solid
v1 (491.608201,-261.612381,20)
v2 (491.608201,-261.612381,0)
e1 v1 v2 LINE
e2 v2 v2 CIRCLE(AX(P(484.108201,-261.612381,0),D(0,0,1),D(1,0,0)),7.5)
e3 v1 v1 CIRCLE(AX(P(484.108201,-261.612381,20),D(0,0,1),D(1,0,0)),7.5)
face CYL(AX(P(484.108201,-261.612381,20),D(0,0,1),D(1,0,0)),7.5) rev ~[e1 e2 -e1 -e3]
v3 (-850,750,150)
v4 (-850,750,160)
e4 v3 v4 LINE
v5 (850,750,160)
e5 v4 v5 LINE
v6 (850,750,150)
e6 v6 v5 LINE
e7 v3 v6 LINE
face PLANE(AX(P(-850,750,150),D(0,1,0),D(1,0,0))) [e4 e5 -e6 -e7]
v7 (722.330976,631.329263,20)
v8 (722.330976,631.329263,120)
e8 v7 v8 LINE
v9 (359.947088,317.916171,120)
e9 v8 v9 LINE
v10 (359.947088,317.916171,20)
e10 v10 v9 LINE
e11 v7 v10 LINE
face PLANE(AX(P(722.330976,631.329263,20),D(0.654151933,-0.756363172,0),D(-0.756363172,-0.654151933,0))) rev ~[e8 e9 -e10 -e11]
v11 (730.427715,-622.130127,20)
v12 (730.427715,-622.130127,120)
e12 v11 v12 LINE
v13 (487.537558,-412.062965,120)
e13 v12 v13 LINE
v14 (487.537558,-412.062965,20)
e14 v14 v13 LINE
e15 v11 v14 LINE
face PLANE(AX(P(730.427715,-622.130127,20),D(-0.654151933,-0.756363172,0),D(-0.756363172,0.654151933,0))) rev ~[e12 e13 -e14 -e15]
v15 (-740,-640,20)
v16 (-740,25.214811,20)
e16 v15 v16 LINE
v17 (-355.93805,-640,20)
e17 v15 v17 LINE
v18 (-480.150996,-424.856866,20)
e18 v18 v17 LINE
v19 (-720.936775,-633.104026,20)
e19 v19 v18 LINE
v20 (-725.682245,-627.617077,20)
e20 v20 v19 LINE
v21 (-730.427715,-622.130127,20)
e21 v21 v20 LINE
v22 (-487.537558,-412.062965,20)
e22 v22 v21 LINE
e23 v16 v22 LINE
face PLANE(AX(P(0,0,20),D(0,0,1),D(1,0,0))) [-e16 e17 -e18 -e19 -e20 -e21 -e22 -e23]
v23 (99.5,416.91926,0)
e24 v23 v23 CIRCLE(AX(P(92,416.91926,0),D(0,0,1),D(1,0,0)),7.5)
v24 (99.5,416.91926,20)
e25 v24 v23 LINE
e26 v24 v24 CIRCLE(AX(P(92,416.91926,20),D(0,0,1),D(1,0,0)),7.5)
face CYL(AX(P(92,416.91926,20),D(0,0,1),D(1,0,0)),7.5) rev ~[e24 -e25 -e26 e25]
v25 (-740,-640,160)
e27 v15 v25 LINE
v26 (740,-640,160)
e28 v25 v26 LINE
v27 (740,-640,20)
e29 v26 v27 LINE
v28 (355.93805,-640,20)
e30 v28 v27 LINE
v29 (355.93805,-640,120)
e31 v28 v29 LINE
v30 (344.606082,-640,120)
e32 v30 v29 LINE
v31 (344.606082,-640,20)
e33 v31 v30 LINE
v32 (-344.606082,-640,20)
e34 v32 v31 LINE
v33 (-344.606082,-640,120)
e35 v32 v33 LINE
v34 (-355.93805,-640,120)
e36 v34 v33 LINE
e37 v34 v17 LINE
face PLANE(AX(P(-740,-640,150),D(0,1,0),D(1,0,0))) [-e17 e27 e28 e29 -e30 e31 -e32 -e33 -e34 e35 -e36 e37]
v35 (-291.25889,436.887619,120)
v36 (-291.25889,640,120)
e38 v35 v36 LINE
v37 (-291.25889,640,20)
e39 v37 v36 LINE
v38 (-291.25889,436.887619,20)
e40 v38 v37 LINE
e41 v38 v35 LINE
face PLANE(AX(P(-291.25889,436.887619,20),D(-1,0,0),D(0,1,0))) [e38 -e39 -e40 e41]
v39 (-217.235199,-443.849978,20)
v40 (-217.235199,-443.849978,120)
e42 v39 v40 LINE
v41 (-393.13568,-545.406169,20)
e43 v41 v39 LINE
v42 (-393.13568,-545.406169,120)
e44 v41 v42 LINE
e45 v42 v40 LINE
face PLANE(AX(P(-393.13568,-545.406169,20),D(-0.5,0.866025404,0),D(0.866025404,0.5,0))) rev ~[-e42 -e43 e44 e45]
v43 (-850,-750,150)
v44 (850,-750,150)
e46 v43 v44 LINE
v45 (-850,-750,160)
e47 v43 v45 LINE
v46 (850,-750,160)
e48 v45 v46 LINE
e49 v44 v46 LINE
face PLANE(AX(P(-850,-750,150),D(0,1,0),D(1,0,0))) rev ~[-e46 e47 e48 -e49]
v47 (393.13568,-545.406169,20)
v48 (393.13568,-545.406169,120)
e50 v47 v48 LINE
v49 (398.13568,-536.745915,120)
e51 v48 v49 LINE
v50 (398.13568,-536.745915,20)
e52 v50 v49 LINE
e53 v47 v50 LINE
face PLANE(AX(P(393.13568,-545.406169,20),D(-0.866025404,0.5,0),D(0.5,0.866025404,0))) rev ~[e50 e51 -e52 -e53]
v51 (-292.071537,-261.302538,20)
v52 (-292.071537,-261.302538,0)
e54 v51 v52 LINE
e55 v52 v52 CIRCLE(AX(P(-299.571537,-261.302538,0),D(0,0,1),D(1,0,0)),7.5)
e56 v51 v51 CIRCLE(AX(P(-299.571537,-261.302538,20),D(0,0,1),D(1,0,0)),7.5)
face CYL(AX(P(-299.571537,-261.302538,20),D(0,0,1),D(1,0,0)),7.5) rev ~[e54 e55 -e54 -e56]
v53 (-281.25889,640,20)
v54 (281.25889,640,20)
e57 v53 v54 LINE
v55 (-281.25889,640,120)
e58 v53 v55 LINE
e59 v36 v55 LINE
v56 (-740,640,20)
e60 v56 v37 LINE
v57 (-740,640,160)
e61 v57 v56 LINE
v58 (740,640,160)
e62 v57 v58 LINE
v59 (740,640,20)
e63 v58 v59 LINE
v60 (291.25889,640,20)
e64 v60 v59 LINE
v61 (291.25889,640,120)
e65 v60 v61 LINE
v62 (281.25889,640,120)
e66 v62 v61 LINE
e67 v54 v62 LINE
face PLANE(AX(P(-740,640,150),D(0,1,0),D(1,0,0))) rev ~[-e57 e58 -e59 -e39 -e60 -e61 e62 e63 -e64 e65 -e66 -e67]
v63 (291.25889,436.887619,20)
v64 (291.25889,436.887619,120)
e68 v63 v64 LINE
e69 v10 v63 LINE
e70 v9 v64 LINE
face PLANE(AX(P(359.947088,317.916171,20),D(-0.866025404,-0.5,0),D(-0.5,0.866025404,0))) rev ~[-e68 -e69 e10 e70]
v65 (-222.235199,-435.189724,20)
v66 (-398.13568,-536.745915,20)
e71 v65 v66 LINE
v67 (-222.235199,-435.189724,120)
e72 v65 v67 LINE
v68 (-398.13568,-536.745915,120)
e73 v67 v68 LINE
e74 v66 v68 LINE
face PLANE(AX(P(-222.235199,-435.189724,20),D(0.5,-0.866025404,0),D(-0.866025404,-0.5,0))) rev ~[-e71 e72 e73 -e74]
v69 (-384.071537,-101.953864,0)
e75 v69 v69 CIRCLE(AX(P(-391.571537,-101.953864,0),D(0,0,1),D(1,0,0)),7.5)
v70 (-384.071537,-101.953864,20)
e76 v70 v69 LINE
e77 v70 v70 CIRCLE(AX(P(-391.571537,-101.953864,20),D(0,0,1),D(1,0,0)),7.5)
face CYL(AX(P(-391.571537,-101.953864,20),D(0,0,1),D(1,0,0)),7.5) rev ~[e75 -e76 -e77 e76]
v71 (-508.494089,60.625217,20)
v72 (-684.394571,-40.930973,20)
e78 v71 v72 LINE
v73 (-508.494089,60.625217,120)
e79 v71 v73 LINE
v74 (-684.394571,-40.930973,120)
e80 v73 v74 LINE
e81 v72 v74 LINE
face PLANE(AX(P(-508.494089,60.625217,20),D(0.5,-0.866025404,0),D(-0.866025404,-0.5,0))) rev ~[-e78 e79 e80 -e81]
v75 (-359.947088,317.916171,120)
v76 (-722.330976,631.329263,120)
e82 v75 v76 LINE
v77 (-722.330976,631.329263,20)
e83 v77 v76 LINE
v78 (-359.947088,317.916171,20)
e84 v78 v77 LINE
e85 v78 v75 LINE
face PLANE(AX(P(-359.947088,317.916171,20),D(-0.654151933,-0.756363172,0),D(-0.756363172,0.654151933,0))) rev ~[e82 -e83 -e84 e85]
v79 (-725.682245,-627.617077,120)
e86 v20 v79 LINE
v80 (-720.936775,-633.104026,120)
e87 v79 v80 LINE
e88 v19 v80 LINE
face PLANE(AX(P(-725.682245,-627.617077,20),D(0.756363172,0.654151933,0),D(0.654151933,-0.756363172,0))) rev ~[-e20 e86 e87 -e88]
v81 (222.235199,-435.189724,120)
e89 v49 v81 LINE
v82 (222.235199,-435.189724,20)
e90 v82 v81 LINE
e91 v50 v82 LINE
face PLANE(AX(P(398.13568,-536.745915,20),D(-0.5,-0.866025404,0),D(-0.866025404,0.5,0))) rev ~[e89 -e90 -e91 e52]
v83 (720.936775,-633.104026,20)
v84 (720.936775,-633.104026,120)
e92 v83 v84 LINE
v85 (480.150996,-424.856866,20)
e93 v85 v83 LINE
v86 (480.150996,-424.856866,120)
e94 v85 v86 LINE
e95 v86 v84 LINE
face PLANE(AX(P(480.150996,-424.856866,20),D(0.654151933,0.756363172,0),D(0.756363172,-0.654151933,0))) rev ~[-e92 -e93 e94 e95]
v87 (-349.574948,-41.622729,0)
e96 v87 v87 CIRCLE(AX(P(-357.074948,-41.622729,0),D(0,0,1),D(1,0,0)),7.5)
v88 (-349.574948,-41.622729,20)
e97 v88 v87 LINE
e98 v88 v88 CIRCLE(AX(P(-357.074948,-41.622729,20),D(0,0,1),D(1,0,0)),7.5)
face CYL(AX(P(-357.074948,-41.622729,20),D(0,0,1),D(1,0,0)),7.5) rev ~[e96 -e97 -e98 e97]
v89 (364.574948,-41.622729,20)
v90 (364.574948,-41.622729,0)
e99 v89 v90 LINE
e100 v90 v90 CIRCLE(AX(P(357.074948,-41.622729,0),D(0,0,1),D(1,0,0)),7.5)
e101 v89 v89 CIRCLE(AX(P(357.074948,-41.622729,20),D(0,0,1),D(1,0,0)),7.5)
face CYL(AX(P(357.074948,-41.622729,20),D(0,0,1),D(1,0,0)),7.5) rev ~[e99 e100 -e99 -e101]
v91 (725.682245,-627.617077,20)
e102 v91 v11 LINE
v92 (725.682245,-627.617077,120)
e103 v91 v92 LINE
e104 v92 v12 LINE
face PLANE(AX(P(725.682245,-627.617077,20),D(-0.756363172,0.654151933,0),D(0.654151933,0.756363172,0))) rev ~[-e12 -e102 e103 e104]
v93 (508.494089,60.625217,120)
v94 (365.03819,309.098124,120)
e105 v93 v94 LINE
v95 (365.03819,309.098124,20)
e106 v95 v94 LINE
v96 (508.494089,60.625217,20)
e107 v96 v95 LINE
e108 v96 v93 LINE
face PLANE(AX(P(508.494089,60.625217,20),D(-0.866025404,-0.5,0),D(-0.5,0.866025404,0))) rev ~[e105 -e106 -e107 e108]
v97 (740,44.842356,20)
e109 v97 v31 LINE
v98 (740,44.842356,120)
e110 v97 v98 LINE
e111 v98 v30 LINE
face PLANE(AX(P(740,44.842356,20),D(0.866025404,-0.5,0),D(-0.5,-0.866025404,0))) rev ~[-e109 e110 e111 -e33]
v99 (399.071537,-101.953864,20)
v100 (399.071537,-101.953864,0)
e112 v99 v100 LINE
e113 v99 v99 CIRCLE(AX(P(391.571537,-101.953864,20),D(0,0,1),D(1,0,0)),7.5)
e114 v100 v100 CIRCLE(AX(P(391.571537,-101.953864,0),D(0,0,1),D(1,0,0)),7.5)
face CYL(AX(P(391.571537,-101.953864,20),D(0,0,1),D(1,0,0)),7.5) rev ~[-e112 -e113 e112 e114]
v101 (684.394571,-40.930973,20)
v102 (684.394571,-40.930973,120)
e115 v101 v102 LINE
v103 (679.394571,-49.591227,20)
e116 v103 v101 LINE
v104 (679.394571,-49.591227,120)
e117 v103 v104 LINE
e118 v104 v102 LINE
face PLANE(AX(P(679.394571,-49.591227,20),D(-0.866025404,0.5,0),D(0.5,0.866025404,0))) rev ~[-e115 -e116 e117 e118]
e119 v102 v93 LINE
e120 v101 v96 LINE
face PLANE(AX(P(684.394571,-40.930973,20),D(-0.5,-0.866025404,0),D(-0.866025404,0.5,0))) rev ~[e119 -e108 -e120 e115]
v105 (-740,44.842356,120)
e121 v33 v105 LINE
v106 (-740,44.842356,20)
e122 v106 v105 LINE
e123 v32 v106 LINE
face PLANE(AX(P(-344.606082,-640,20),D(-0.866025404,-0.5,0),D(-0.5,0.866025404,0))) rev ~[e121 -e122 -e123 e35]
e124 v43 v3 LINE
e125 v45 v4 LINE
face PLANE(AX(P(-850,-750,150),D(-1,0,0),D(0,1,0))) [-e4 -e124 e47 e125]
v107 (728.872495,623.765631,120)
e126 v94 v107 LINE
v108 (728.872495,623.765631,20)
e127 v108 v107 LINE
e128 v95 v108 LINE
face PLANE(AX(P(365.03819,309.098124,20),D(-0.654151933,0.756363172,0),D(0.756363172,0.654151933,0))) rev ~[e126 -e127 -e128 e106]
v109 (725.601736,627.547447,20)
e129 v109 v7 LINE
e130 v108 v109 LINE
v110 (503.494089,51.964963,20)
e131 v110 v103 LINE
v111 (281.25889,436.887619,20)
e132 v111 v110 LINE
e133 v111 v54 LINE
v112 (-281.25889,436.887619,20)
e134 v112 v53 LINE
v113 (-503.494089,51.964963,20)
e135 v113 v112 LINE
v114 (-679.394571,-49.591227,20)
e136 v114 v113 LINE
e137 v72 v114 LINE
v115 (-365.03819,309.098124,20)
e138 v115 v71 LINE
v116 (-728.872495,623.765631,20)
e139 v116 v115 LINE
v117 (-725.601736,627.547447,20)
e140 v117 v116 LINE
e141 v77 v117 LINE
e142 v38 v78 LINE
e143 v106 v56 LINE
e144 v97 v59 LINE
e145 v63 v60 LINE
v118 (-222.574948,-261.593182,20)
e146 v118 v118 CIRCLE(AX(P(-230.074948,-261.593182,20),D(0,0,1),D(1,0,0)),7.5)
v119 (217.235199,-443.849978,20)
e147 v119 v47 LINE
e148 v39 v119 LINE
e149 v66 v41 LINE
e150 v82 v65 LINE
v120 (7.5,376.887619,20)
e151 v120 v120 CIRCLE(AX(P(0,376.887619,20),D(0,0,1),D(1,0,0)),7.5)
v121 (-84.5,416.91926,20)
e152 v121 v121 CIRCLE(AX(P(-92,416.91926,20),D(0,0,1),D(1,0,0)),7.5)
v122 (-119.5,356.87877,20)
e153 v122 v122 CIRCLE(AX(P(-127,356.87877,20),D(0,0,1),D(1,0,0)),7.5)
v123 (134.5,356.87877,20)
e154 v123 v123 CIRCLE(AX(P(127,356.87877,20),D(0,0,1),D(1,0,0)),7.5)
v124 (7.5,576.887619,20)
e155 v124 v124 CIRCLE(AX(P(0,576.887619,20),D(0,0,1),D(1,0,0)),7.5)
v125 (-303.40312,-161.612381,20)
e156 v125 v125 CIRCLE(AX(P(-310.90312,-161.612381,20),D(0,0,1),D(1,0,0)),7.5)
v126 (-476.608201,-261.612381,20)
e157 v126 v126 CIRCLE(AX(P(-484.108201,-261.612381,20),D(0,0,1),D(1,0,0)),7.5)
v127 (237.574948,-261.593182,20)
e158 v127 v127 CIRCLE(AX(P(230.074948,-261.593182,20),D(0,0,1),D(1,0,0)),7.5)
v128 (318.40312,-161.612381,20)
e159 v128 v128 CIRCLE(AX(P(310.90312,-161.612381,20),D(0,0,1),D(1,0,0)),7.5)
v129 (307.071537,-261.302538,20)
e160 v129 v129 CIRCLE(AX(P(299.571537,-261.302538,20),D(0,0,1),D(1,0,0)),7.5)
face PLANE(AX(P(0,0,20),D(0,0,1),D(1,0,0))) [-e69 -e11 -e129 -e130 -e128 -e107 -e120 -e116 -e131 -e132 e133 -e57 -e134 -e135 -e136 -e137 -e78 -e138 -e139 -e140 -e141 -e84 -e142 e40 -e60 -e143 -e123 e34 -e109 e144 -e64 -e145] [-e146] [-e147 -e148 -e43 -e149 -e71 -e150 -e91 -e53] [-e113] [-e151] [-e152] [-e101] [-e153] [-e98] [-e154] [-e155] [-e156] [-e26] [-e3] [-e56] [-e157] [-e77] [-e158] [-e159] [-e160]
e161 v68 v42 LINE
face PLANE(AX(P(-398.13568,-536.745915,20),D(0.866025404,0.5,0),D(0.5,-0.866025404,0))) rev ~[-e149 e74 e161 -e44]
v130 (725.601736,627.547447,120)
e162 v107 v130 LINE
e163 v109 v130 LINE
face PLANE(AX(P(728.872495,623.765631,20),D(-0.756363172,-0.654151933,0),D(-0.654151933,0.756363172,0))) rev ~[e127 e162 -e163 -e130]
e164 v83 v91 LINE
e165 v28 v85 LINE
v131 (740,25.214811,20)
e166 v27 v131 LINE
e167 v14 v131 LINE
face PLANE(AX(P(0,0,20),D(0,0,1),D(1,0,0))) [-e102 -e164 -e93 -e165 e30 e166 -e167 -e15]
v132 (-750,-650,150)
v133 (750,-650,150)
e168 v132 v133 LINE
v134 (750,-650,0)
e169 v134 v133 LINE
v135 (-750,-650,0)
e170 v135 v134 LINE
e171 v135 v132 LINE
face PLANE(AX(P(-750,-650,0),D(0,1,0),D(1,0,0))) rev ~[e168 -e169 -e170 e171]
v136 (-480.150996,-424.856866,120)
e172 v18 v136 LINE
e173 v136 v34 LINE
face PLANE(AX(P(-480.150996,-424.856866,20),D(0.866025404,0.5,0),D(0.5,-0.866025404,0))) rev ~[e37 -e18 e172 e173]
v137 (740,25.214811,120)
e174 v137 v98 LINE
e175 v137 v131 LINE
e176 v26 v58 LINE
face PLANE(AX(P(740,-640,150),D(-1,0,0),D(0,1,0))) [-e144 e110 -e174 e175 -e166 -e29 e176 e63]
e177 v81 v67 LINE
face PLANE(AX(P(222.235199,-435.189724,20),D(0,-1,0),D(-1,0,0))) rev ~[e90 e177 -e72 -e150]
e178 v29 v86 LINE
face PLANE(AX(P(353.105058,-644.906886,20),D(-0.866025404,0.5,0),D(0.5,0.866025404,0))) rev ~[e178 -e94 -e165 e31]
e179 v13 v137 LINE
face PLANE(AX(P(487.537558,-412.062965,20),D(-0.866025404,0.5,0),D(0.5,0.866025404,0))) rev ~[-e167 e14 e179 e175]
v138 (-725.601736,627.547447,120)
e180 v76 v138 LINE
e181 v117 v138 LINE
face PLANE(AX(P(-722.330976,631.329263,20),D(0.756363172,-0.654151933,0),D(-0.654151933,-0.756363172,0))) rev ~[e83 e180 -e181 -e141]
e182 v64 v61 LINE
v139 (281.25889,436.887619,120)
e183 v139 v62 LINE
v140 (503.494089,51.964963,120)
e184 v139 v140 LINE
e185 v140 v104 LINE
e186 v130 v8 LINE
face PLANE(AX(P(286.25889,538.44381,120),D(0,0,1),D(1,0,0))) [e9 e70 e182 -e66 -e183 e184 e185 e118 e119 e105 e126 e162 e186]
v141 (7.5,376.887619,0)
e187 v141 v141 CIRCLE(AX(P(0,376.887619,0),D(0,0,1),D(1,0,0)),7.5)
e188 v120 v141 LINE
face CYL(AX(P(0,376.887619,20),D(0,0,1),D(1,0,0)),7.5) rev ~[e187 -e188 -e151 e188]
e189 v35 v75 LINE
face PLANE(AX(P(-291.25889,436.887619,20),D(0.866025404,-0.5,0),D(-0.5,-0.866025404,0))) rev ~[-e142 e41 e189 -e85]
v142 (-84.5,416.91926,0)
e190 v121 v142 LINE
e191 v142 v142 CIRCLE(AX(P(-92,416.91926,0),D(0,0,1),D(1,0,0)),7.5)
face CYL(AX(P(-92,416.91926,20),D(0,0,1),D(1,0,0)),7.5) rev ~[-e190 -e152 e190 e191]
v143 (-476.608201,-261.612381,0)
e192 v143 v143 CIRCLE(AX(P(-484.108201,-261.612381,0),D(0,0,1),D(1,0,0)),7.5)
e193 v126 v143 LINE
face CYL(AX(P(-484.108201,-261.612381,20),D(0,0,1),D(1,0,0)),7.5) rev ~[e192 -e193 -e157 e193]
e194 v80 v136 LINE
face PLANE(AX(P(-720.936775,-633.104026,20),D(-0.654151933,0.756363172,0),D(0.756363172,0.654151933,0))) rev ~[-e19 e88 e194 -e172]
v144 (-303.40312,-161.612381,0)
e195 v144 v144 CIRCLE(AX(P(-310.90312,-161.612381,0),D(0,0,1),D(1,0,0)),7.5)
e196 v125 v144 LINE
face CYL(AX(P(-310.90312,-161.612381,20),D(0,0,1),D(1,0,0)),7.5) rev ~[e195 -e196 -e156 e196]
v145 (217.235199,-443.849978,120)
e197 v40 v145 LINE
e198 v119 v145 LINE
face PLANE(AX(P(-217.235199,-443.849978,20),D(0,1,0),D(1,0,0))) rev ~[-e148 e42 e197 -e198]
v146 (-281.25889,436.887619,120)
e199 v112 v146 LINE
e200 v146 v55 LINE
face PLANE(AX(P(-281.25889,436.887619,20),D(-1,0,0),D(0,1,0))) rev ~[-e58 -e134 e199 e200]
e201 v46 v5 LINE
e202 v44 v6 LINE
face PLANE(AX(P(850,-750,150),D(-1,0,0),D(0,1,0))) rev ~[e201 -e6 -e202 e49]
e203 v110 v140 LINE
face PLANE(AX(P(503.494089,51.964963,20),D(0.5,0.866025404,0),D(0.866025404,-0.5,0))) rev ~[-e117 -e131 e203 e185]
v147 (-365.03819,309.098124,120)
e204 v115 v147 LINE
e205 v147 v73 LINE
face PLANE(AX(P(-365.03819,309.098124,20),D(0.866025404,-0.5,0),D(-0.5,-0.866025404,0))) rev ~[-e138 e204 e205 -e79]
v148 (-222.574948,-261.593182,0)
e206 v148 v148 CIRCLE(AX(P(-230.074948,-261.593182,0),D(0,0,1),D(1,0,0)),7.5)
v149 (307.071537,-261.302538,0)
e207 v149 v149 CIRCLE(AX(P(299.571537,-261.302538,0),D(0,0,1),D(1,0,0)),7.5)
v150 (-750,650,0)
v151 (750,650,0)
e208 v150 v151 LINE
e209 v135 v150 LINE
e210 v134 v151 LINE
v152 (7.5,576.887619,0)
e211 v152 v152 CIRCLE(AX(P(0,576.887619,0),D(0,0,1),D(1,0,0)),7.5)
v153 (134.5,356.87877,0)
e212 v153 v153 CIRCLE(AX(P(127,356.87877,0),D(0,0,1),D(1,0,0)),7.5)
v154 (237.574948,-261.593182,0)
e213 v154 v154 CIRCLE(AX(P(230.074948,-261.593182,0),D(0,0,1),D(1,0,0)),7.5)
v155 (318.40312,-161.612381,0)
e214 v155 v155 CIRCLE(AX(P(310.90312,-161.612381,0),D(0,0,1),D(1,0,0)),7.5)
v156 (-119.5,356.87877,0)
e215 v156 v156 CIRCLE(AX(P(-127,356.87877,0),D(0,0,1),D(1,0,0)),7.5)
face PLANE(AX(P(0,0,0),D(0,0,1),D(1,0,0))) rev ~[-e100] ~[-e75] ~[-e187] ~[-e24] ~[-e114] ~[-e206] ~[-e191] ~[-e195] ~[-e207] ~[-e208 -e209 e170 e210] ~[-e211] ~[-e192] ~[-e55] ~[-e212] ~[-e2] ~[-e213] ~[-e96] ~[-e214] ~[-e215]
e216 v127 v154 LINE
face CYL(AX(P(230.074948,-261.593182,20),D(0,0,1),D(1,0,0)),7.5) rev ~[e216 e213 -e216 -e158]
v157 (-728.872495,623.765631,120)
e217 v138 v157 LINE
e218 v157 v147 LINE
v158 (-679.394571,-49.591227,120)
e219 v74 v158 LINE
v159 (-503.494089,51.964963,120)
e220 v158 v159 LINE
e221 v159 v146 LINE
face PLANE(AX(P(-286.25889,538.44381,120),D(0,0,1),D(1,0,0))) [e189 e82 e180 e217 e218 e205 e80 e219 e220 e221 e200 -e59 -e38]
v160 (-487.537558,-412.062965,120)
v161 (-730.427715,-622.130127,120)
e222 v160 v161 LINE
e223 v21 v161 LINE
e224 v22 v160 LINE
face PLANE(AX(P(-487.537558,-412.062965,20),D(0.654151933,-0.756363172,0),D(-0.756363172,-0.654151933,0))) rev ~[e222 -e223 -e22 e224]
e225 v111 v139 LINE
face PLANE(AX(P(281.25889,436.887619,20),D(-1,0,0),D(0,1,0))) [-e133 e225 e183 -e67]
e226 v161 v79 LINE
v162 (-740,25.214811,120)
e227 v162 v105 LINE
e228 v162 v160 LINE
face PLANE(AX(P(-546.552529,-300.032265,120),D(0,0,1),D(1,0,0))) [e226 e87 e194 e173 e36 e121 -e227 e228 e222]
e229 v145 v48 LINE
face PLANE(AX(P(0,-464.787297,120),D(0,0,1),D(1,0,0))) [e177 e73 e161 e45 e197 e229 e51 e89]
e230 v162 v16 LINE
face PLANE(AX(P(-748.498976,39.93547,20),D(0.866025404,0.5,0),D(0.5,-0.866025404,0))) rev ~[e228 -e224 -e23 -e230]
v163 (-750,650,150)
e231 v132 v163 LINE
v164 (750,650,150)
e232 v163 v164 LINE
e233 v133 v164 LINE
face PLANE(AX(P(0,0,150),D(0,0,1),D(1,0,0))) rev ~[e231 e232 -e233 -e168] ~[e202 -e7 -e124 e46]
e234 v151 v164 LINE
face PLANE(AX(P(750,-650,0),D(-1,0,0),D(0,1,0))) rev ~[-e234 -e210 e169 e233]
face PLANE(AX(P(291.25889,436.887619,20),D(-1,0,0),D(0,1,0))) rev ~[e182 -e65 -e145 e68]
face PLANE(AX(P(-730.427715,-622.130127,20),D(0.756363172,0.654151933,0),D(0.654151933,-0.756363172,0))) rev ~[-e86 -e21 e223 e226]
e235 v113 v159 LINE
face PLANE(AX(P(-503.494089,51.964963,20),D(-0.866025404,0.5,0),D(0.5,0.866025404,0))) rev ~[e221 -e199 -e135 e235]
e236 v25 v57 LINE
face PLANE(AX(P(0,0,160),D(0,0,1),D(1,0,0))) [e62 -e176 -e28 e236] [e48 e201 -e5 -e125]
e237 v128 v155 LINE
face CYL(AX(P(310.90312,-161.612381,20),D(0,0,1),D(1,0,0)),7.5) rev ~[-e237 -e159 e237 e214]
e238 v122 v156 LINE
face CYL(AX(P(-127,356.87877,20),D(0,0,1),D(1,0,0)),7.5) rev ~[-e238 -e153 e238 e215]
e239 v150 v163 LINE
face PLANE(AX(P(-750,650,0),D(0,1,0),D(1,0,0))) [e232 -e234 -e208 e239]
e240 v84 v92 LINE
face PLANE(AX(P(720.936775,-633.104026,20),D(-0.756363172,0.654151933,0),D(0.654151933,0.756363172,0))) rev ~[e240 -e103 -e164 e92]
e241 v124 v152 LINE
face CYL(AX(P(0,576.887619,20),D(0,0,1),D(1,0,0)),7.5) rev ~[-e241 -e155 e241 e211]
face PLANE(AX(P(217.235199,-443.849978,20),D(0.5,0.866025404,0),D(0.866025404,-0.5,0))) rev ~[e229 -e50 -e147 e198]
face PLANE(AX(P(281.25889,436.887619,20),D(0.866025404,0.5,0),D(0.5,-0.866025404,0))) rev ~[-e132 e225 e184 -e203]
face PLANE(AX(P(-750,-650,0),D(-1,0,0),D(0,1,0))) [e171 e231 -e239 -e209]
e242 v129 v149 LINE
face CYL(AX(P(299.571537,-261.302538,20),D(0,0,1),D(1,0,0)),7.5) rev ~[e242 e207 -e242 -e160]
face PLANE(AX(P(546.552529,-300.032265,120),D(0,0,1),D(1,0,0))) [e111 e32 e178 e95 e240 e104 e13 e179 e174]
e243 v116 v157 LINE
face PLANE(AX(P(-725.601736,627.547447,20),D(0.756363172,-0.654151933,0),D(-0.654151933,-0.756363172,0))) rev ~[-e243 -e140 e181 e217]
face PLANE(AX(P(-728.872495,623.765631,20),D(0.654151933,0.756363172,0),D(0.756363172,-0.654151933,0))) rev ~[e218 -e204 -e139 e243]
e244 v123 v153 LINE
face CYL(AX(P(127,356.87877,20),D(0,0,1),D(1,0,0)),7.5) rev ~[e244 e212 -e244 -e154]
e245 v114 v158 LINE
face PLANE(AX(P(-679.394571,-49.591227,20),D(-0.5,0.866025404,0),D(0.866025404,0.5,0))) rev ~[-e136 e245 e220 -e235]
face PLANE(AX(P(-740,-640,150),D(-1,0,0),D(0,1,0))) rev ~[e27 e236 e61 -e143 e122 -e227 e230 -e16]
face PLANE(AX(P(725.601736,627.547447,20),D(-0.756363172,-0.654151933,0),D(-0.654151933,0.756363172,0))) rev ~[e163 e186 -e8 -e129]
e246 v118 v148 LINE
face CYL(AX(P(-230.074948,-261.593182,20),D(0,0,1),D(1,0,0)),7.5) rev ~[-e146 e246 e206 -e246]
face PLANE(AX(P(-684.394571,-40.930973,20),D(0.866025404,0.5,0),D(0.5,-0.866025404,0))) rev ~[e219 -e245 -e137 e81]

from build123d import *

# Parameters (mm, degrees)
F0_W     = 1500
F0_H     = 1300
F1_DEPTH = 150
F2_W     = 1480
F2_H     = 1280
F3_DEPTH = 130
F4_W     = 1700
F4_H     = 1500
F4_W_2   = 1480
F4_H_2   = 1280
F5_DEPTH = 10
F6_R     = 7.5
F7_DEPTH = 20.001
F8_W     = 10
F8_H     = 203.1123805046
F9_DEPTH = 100


with BuildPart() as f1:
    # F0 (on Top) → F1 (new body)
    with BuildSketch(Plane.XY):
        Rectangle(F0_W, F0_H)
    extrude(amount=F1_DEPTH)

    # F2 (on face) → F3 (cut)
    with BuildSketch(Plane.XY.offset(150)):
        Rectangle(F2_W, F2_H)
    extrude(amount=-F3_DEPTH, mode=Mode.SUBTRACT)

    # F4 (on face) → F5 (join)
    with BuildSketch(Plane.XY.offset(150)):
        Rectangle(F4_W, F4_H)
        Rectangle(F4_W_2, F4_H_2, mode=Mode.SUBTRACT)
    extrude(amount=F5_DEPTH)

    # F6 (on face) → F7 (cut, through all)
    with BuildSketch(Plane.XY.offset(20)):
        with Locations((0, 576.8876194954)):
            Circle(F6_R)
        with Locations((-484.1082007155, -261.6123805046)):
            Circle(F6_R)
        with Locations((484.1082007155, -261.6123805046)):
            Circle(F6_R)
        with Locations((-92, 416.9192598449)):
            Circle(F6_R)
        with Locations((92, 416.9192598449)):
            Circle(F6_R)
        with Locations((-127, 356.8787698224)):
            Circle(F6_R)
        with Locations((127, 356.8787698224)):
            Circle(F6_R)
        with Locations((-230.0749478413, -261.5931819487)):
            Circle(F6_R)
        with Locations((-357.0749478413, -41.6227293875)):
            Circle(F6_R)
        with Locations((-299.5715374564, -261.3025378275)):
            Circle(F6_R)
        with Locations((-391.5715374564, -101.9538635312)):
            Circle(F6_R)
        with Locations((391.5715374564, -101.9538635312)):
            Circle(F6_R)
        with Locations((299.5715374564, -261.3025378275)):
            Circle(F6_R)
        with Locations((230.0749478413, -261.5931819487)):
            Circle(F6_R)
        with Locations((357.0749478413, -41.6227293875)):
            Circle(F6_R)
        with Locations((0, 376.8876194954)):
            Circle(F6_R)
        with Locations((310.9031199586, -161.6123805046)):
            Circle(F6_R)
        with Locations((-310.9031199586, -161.6123805046)):
            Circle(F6_R)
    extrude(amount=-F7_DEPTH, mode=Mode.SUBTRACT)

    # F8 (on face) → F9 (join)
    with BuildSketch(Plane.XY.offset(20)):
        with Locations((-286.2588901058, 538.4438097477)):
            Rectangle(F8_W, F8_H)
        Polygon((-503.4940892386, 51.9649633672), (-281.2588901058, 436.8876194954), (-291.2588901058, 436.8876194954), (-359.9470881013, 317.9161706869), (-365.0381898631, 309.0981237688), (-508.4940892386, 60.6252174051), (-684.3945705787, -40.9309728472), (-679.3945705787, -49.5912268851), align=None)
        Polygon((-365.0381898631, 309.0981237688), (-359.9470881013, 317.9161706869), (-722.3309758605, 631.329262803), (-725.6017355252, 627.5474469407), (-728.8724951898, 623.7656310784), align=None)
        with Locations((286.2588901058, 538.4438097477)):
            Rectangle(F8_W, F8_H)
        Polygon((359.9470881013, 317.9161706869), (291.2588901058, 436.8876194954), (281.2588901058, 436.8876194954), (503.4940892386, 51.9649633672), (508.4940892386, 60.6252174051), (365.0381898631, 309.0981237688), align=None)
        Polygon((722.3309758605, 631.329262803), (359.9470881013, 317.9161706869), (365.0381898631, 309.0981237688), (728.8724951898, 623.7656310784), (725.6017355252, 627.5474469407), align=None)
        Polygon((508.4940892386, 60.6252174051), (503.4940892386, 51.9649633672), (679.3945705787, -49.5912268851), (684.3945705787, -40.9309728472), align=None)
        Polygon((217.2351991328, -443.8499784143), (393.1356804729, -545.4061686666), (398.1356804729, -536.7459146288), (222.2351991328, -435.1897243764), (0, -435.1897243764), (-222.2351991328, -435.1897243764), (-398.1356804729, -536.7459146288), (-393.1356804729, -545.4061686666), (-217.2351991328, -443.8499784143), (0, -443.8499784143), align=None)
        Polygon((-344.6060815022, -640), (-740, 44.842355842), (-748.4989762306, 39.9354696274), (-487.5375583846, -412.0629648972), (-480.1509961227, -424.856866028), (-353.1050577328, -644.9068862146), align=None)
        Polygon((-480.1509961227, -424.856866028), (-487.5375583846, -412.0629648972), (-730.4277149046, -622.1301272929), (-725.6822450561, -627.6170768052), (-720.9367752075, -633.1040263176), align=None)
        Polygon((748.4989762306, 39.9354696274), (740, 44.842355842), (344.6060815022, -640), (353.1050577328, -644.9068862146), (480.1509961227, -424.856866028), (487.5375583846, -412.0629648972), align=None)
        Polygon((730.4277149046, -622.1301272929), (487.5375583846, -412.0629648972), (480.1509961227, -424.856866028), (720.9367752075, -633.1040263176), (725.6822450561, -627.6170768052), align=None)
    extrude(amount=F9_DEPTH)


solid = f1.part
